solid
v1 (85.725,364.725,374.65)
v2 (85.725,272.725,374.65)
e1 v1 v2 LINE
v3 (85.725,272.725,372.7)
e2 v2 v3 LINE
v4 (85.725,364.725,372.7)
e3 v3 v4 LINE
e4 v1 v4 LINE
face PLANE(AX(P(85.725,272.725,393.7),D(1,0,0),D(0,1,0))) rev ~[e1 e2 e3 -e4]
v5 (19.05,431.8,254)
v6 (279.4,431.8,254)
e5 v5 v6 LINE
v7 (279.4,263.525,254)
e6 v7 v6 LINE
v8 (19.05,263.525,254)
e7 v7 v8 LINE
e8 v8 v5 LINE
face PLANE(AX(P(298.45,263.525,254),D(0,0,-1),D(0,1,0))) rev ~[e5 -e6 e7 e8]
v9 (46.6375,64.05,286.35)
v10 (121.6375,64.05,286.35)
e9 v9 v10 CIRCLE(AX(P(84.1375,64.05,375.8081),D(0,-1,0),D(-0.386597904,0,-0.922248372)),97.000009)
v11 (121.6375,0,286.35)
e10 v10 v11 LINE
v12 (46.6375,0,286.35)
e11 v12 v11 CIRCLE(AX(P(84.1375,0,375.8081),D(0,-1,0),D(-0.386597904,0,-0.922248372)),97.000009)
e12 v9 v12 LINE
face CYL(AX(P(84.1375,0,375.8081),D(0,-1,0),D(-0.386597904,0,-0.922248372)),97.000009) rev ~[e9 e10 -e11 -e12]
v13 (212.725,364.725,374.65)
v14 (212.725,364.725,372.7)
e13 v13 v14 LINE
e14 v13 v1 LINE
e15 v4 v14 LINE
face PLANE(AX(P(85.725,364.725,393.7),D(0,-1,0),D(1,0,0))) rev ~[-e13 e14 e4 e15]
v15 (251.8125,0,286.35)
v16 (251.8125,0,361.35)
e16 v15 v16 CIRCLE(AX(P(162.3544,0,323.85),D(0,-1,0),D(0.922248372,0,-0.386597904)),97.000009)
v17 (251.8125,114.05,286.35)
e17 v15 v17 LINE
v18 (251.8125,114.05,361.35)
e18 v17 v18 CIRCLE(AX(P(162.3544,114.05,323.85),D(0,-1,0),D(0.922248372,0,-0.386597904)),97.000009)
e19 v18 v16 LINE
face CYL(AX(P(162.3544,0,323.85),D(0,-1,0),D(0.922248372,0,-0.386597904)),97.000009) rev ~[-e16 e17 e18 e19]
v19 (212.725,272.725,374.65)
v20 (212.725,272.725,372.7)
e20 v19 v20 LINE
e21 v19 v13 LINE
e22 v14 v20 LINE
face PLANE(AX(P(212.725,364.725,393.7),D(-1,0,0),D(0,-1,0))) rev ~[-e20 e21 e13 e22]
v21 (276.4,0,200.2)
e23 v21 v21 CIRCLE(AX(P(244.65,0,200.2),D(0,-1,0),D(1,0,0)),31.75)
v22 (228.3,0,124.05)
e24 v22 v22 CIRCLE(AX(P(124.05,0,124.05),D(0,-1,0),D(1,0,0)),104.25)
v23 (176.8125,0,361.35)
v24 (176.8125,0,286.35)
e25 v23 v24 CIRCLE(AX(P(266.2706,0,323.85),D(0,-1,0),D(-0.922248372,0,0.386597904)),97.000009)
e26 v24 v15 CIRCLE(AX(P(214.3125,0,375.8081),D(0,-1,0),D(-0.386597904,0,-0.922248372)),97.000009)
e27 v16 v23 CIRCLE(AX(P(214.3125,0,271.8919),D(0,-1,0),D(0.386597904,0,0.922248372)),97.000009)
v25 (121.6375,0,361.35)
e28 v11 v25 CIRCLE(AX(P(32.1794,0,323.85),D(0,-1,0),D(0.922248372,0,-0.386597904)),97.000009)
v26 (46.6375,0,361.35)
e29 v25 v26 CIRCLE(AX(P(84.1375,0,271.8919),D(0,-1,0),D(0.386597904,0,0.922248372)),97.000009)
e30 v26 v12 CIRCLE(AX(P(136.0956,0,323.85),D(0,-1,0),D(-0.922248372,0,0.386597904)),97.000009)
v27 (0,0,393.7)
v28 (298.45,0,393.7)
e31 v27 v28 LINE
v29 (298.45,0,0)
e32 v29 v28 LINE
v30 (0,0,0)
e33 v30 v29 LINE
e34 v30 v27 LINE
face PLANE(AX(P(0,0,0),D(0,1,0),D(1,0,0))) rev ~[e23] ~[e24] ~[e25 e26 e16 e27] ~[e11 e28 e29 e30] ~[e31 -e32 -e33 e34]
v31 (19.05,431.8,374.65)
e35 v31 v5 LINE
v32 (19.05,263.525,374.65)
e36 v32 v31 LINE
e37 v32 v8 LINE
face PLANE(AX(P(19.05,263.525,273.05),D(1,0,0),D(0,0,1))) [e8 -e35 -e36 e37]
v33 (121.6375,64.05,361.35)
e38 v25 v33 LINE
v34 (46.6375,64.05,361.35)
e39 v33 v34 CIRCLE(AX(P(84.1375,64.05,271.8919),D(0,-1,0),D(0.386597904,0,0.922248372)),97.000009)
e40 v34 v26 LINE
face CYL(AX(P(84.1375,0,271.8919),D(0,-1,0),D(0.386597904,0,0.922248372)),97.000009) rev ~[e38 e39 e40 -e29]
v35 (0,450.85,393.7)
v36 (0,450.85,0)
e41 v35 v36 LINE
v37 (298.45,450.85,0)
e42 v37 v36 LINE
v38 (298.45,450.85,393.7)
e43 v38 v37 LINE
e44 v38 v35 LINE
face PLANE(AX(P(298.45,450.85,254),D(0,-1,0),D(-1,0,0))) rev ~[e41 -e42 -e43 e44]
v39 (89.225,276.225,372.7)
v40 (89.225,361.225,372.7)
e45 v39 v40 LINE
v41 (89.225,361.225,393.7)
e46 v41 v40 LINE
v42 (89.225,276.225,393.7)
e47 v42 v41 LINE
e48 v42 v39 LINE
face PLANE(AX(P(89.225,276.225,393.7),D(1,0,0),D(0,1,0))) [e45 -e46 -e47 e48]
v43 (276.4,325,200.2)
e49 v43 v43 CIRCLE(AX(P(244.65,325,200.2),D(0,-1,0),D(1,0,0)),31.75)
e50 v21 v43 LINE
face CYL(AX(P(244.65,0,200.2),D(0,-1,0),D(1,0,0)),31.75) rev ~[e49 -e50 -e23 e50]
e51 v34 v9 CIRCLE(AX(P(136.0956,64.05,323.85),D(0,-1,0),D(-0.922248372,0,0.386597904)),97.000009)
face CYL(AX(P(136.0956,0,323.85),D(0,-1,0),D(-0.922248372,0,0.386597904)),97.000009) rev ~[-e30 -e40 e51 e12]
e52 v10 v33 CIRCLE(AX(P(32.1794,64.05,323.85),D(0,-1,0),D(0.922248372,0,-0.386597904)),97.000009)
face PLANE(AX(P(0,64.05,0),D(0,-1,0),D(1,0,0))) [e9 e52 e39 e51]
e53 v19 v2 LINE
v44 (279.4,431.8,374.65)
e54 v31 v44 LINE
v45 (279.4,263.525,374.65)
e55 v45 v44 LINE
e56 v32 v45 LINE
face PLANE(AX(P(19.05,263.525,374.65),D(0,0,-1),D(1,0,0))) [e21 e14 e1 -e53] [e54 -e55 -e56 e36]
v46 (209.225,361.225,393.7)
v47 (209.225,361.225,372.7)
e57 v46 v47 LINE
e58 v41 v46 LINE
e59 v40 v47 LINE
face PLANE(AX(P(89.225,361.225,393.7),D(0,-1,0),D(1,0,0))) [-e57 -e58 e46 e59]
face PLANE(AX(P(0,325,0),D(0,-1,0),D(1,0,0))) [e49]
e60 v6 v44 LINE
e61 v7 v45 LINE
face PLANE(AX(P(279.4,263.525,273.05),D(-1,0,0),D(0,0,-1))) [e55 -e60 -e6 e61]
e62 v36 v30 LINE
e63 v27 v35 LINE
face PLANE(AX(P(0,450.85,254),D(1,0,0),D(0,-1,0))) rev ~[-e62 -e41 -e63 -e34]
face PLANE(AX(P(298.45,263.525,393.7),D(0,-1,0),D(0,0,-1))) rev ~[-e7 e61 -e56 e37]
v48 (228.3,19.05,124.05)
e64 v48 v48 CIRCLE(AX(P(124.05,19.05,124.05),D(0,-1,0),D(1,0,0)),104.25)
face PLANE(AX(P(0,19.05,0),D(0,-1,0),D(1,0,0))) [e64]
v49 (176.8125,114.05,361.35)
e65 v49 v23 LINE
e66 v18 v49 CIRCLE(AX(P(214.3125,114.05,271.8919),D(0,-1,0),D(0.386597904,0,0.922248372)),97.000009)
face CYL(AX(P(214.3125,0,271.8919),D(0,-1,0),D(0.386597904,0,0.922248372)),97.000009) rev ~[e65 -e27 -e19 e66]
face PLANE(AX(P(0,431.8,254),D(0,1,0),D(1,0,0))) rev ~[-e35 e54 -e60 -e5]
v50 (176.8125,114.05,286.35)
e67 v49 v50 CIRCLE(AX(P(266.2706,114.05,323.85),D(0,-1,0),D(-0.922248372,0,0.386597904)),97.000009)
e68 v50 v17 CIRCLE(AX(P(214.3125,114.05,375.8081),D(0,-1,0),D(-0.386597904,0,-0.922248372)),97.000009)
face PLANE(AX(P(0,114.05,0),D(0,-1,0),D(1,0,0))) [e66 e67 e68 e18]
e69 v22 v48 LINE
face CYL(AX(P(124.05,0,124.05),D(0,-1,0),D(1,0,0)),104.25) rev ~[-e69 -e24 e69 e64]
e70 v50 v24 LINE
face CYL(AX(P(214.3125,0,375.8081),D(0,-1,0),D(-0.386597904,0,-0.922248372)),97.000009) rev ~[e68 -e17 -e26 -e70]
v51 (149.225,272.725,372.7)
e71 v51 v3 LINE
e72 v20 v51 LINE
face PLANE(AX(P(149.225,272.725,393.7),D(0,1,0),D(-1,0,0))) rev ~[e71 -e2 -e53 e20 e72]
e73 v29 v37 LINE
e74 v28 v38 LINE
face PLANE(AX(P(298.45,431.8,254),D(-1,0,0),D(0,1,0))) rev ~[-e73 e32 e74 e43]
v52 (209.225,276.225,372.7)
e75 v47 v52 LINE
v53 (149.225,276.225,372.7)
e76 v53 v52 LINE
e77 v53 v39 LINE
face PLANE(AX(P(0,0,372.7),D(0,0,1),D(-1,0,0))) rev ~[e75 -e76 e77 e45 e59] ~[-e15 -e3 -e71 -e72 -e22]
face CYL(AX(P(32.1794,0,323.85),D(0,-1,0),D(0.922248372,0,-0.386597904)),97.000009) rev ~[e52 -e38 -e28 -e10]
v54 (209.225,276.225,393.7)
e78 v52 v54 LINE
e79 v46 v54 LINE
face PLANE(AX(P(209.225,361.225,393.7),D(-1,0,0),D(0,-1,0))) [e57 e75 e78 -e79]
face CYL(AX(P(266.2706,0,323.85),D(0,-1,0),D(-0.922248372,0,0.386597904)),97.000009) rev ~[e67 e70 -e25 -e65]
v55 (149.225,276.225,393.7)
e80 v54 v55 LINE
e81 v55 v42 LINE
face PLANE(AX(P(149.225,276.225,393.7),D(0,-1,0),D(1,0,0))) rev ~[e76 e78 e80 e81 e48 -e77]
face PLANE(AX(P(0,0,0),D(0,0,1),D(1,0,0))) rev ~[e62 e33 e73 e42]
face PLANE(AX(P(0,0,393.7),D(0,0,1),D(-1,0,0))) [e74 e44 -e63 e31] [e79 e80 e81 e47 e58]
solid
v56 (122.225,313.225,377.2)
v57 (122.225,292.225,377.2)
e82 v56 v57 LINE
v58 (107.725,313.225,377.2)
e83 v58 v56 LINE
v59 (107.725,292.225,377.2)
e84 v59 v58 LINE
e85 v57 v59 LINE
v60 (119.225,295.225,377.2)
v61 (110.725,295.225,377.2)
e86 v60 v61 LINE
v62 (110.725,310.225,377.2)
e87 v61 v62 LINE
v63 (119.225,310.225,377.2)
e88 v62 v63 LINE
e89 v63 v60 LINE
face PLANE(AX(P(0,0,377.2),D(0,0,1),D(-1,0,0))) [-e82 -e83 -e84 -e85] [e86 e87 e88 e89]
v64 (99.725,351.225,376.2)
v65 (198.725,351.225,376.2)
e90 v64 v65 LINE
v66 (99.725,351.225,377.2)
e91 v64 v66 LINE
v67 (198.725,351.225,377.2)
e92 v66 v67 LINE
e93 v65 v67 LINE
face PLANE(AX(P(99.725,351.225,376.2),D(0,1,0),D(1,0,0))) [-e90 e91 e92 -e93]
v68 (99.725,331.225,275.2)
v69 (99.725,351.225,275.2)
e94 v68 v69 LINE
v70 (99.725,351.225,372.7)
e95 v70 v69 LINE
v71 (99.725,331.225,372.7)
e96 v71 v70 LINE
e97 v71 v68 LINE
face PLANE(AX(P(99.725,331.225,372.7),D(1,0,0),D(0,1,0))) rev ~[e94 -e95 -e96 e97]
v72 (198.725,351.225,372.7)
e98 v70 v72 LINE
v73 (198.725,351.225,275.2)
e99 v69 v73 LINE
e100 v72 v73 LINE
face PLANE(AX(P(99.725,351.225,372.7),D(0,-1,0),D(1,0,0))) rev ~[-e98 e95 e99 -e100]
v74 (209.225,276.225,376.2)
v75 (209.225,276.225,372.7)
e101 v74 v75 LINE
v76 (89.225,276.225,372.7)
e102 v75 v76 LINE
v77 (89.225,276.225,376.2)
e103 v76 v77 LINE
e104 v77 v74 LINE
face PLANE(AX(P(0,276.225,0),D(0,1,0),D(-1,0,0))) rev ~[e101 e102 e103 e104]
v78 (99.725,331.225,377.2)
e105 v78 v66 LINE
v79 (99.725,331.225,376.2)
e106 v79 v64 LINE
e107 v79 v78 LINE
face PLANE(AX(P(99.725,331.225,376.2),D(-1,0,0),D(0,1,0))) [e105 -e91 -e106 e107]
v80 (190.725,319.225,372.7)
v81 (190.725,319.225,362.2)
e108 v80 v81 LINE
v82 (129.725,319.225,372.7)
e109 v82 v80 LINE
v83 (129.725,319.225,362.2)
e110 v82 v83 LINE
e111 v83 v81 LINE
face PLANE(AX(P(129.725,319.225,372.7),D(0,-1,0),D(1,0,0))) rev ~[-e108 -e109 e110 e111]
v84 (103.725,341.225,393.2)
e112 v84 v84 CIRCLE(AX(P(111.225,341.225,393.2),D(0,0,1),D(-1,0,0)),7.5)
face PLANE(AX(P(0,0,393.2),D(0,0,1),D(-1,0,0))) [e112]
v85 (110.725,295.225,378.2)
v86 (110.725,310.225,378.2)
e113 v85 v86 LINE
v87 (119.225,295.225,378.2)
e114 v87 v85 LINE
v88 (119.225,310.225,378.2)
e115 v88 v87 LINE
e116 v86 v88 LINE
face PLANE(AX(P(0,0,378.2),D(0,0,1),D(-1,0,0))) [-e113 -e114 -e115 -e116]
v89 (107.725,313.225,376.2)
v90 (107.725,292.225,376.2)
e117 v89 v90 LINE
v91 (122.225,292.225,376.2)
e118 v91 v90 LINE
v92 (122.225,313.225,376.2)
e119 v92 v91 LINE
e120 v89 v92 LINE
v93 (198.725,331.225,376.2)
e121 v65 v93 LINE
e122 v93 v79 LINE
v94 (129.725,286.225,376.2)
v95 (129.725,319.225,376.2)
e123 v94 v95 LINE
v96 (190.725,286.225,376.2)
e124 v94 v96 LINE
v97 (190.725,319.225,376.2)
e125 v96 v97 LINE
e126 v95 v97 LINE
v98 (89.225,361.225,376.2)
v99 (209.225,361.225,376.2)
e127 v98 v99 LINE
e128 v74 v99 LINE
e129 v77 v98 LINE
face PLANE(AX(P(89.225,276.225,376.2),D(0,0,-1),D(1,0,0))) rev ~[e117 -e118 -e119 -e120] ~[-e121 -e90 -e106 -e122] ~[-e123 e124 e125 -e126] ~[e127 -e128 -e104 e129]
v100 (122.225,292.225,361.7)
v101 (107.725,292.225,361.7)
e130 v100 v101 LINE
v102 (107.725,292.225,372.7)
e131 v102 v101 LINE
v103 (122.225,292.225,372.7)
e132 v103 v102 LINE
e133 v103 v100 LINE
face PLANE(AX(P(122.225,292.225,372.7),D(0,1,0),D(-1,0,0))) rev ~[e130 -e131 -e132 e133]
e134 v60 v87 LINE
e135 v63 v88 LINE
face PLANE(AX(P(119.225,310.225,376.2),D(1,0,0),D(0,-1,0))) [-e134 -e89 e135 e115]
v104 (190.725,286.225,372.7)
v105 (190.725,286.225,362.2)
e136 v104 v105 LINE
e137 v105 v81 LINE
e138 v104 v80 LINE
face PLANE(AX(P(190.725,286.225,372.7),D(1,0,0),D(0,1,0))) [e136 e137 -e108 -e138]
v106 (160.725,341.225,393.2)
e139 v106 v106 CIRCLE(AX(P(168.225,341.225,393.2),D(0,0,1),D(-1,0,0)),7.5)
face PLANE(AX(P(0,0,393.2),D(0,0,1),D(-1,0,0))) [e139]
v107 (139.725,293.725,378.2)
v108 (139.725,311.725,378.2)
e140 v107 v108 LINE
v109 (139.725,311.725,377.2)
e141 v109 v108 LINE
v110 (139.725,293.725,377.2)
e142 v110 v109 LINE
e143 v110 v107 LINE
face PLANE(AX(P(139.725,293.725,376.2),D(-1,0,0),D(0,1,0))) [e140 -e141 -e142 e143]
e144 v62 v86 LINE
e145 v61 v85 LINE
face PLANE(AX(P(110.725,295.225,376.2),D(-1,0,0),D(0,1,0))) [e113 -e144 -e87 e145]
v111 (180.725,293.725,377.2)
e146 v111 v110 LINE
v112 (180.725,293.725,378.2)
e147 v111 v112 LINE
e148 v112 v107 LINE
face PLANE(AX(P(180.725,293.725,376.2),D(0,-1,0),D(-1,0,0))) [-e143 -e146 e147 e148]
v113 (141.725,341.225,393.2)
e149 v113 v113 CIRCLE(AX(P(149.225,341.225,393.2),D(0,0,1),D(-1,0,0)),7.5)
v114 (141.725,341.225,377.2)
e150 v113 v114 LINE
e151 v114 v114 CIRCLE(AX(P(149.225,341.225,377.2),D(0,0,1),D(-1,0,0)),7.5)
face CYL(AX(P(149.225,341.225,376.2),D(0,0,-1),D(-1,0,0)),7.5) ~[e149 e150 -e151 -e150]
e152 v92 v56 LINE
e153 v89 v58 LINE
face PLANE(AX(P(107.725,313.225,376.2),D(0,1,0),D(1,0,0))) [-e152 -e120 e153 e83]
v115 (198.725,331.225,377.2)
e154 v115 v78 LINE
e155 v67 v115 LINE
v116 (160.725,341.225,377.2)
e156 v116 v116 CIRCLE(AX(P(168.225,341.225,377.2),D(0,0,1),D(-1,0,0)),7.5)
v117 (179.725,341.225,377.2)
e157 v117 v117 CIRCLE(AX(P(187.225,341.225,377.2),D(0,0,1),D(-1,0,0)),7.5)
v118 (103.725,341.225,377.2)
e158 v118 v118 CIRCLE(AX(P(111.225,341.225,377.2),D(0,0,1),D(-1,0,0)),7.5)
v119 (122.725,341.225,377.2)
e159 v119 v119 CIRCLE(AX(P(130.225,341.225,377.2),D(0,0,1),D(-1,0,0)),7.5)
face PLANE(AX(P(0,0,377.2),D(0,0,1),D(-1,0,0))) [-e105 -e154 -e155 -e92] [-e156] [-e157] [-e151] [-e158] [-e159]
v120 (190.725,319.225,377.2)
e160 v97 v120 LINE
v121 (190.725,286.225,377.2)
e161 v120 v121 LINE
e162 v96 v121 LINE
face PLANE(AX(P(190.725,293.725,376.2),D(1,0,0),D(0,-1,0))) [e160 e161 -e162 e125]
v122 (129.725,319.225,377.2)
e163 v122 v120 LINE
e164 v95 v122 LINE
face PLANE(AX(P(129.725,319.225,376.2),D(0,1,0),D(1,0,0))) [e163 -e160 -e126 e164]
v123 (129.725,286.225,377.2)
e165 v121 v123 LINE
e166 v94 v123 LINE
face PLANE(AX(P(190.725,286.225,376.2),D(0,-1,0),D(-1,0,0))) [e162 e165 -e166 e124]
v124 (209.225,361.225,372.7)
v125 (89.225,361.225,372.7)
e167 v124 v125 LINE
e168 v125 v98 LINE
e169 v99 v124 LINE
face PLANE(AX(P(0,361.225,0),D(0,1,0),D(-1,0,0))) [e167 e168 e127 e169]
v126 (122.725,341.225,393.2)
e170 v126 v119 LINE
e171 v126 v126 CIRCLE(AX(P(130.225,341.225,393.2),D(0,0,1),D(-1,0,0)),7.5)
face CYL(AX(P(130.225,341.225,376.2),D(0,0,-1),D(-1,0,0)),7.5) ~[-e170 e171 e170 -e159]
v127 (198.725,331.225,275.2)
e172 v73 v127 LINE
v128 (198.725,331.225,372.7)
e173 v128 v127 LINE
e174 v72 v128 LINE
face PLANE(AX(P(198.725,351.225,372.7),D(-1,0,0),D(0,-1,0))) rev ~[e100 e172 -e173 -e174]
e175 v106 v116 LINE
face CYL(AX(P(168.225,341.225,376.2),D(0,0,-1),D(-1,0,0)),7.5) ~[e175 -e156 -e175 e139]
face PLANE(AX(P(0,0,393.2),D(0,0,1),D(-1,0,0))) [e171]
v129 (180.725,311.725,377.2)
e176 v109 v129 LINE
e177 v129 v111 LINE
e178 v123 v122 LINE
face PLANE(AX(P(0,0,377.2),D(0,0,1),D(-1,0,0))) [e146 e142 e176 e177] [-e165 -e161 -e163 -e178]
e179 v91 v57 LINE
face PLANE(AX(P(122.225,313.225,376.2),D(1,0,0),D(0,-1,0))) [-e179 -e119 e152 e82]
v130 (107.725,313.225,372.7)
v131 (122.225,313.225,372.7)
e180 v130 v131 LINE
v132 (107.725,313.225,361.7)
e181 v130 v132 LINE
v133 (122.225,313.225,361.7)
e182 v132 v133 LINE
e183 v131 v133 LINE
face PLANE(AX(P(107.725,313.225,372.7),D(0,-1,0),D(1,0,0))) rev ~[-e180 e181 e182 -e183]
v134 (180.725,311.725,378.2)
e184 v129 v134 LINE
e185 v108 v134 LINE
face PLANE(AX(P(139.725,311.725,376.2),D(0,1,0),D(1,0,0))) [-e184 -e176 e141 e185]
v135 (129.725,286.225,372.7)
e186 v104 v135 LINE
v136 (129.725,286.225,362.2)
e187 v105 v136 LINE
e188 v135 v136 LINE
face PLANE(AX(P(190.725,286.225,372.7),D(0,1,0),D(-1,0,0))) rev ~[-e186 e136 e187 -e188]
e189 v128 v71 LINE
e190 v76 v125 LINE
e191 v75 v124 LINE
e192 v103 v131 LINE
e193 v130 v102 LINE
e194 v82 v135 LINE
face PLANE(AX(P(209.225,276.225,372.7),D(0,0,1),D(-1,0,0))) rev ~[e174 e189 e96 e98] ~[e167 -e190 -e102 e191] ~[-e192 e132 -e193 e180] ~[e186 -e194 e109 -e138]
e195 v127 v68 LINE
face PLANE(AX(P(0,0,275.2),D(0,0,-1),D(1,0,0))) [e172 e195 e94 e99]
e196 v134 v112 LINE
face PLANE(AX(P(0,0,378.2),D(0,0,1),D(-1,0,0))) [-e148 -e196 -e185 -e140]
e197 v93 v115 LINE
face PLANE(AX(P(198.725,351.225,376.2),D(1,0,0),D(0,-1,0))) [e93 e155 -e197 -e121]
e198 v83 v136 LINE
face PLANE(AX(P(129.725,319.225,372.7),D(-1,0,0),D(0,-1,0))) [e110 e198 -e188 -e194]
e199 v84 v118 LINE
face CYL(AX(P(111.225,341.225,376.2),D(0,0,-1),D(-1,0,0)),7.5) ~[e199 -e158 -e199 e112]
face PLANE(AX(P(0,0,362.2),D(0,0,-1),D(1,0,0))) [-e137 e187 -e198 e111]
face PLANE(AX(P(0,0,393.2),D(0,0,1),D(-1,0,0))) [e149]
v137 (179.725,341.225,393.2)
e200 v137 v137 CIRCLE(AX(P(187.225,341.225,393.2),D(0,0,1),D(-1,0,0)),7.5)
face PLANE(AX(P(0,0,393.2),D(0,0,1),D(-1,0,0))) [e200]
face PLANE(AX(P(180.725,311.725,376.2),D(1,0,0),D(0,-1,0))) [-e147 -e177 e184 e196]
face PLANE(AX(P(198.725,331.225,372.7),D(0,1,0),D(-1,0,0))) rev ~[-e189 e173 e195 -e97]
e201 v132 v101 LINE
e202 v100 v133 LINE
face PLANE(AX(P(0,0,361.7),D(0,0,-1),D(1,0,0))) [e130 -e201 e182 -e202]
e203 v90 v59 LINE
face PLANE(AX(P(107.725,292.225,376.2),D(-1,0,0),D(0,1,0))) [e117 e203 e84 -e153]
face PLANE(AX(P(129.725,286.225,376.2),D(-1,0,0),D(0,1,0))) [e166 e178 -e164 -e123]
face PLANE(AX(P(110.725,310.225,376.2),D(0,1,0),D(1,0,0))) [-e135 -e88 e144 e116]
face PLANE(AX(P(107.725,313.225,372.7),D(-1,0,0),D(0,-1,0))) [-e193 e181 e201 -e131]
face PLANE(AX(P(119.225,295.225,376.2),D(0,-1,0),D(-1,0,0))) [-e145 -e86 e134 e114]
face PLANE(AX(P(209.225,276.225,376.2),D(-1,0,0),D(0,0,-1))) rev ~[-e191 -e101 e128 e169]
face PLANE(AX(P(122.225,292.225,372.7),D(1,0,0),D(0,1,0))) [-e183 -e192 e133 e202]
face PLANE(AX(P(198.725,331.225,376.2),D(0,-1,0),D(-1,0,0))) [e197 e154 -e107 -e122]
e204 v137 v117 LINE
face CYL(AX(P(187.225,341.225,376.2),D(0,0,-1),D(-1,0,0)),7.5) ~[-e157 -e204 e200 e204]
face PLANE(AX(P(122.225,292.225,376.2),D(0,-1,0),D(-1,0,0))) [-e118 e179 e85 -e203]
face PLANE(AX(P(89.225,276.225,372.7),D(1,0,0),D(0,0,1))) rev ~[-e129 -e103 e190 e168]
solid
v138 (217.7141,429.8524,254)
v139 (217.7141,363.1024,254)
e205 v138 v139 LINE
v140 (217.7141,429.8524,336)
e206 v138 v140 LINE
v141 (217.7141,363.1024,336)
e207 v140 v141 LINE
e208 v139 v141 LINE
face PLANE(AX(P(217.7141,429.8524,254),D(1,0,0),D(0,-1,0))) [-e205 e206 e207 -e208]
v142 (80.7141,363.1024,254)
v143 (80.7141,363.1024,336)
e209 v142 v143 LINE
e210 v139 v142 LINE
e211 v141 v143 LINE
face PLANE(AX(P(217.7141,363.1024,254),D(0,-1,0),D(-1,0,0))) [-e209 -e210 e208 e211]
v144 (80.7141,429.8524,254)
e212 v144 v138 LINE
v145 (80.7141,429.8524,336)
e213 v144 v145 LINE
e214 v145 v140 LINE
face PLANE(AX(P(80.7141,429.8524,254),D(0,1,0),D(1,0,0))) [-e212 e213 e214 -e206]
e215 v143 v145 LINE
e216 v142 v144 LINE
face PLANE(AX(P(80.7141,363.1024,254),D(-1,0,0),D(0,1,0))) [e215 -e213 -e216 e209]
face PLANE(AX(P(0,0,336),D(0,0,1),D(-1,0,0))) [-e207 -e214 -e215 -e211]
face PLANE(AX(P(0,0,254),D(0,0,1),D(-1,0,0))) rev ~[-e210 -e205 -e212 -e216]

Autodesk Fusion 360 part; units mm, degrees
sketch "Sketch1" plane through (0, 0, 0) normal (0, 0, 1) x (1, 0, 0)
  line L0 (0, 0) -> (298.45, 0)
  line L1 (298.45, 0) -> (298.45, 450.85)
  line L2 (298.45, 450.85) -> (0, 450.85)
  line L3 (0, 450.85) -> (0, 0)
  dimension "d1" = 298.45
  dimension "d2" = 450.85
extrude "Extrude1" add sketch "Sketch1" along normal blind 254 makes body 1
sketch "Sketch2" plane through (0, 0, 0) normal (0, -1, 0) x (1, 0, 0)
  line L0 (0, 0) -> (298.45, 0)
  line L1 (298.45, 0) -> (298.45, 254)
  line L2 (298.45, 254) -> (0, 254)
  line L3 (0, 254) -> (0, 0)
  line L4 (19.05, 19.05) -> (279.4, 19.05)
  line L5 (279.4, 19.05) -> (279.4, 234.95)
  line L6 (279.4, 234.95) -> (19.05, 234.95)
  line L7 (19.05, 234.95) -> (19.05, 19.05)
  circle A0 centre (124.05, 124.05) radius 104.25
  circle A1 centre (244.65, 200.2) radius 31.75
  circle A2 centre (244.65, 200.2) radius 34.75
  dimension "d5" = -19.05
  dimension "d6" = 208.5
  dimension "d7" = 105
  dimension "d8" = 105
  dimension "d9" = 63.5
  dimension "d10" = 34.75
  dimension "d11" = 34.75
  dimension "d12" = 3
extrude "Extrude2" add 1 faces at (99.4833, 150.2833, 254) along direction (0, 0, 1) blind 139.7 on bodies 1 bodies 1
sketch "Sketch3" plane through (0, 0, 0) normal (0, -1, 0) x (1, 0, 0)
  line L0 (0, 0) -> (298.45, 0)
  line L1 (298.45, 0) -> (298.45, 393.7)
  line L2 (298.45, 393.7) -> (0, 393.7)
  line L3 (0, 393.7) -> (0, 0)
  line L4 (298.45, 254) -> (0, 254)
  line L5 (0, 393.7) -> (298.45, 393.7)
  line L6 (298.45, 393.7) -> (298.45, 254)
  line L7 (298.45, 254) -> (0, 254)
  line L8 (0, 254) -> (0, 393.7)
  line L9 (279.4, 273.05) -> (19.05, 273.05)
  line L10 (19.05, 273.05) -> (19.05, 374.65)
  line L11 (19.05, 374.65) -> (279.4, 374.65)
  line L12 (279.4, 374.65) -> (279.4, 273.05)
  line L13 (46.6375, 361.35) -> (121.6375, 361.35)
  line L14 (121.6375, 361.35) -> (121.6375, 286.35)
  line L15 (121.6375, 286.35) -> (46.6375, 286.35)
  line L16 (46.6375, 286.35) -> (46.6375, 361.35)
  line L17 (84.1375, 361.35) -> (84.1375, 340.8281)
  line L18 (19.05, 374.65) -> (149.225, 374.65)
  line L19 (149.225, 374.65) -> (279.4, 374.65)
  line L20 (46.6375, 323.85) -> (54.2725, 323.85)
  line L21 (149.225, 374.65) -> (149.225, 361.3588)
  arc A0 (121.6375, 361.35) -> (46.6375, 361.35) centre (84.1375, 271.8919) ccw
  arc A1 (46.6375, 286.35) -> (121.6375, 286.35) centre (84.1375, 375.8081) ccw
  arc A2 (121.6375, 286.35) -> (121.6375, 361.35) centre (32.1794, 323.85) ccw
  arc A3 (46.6375, 361.35) -> (46.6375, 286.35) centre (136.0956, 323.85) ccw
  arc A4 (251.8125, 361.35) -> (176.8125, 361.35) centre (214.3125, 271.8919) ccw
  arc A5 (176.8125, 361.35) -> (176.8125, 286.35) centre (266.2706, 323.85) ccw
  arc A6 (176.8125, 286.35) -> (251.8125, 286.35) centre (214.3125, 375.8081) ccw
  arc A7 (251.8125, 286.35) -> (251.8125, 361.35) centre (162.3544, 323.85) ccw
  dimension "d15" = 19.05
  dimension "d16" = 75
  dimension "d17" = 75
  dimension "d18" = 65.0875
  dimension "d19" = 50.8
  dimension "d20" = 97
  dimension "d21" = 97
  dimension "d22" = 97
  dimension "d23" = 97
extrude "Extrude3" cut sketch "Sketch3" sketch "Sketch2" against normal blind 19.05 contours L13 A0 | L13 L14 L15 L16 | L16 A3 | L14 A2 | L15 A1 | A4 A5 A6 A7 of sketch 2 contours A0 bodies 1
shell "Shell1" thickness 19.05 removed faces 1 at (78.1482, 19.05, 149.2169) on bodies 1
extrude "Extrude4" cut 1 faces at (69.1235, 19.05, 323.85) along direction (0, 1, 0) blind 45 on bodies 1 bodies 1
extrude "Extrude5" cut 1 faces at (214.3125, 19.05, 308.836) along direction (0, 1, 0) blind 95 on bodies 1 bodies 1
extrude "Extrude6" add sketch "Sketch2" against normal blind 314.96 contours A2 | A1 bodies 1
extrude "Extrude7" cut sketch "Sketch2" against normal blind 325 contours A1 bodies 1
sketch "Sketch4" plane through (298.45, 0, 0) normal (1, 0, 0) x (0, 1, 0)
  line L0 (0, 0) -> (450.85, 0)
  line L1 (450.85, 0) -> (450.85, 393.7)
  line L2 (450.85, 393.7) -> (0, 393.7)
  line L3 (0, 393.7) -> (0, 0)
  line L4 (0, 254) -> (263.525, 254)
  line L5 (263.525, 254) -> (450.85, 254)
  line L6 (450.85, 254) -> (450.85, 393.7)
  line L7 (450.85, 393.7) -> (263.525, 393.7)
  line L8 (263.525, 393.7) -> (263.525, 254)
  point P0 (0, 254)
  dimension "d35" = 263.525
extrude "Extrude8" cut sketch "Sketch4" against normal blind 390 contours L1 L2 L5 L6 L7 L8 bodies 1
sketch "Sketch5" plane through (0, 450.85, 0) normal (0, 1, 0) x (-1, 0, 0)
  line L0 (0, 254) -> (-298.45, 254)
  line L1 (-298.45, 254) -> (-298.45, 0)
  line L2 (-298.45, 0) -> (0, 0)
  line L3 (0, 0) -> (0, 254)
  line L4 (-298.45, 254) -> (0, 254)
  line L5 (0, 254) -> (0, 234.95)
  line L6 (0, 234.95) -> (-298.45, 234.95)
  line L7 (-298.45, 234.95) -> (-298.45, 254)
  dimension "d38" = 19.05
extrude "Extrude9" add sketch "Sketch5" against normal blind 450 contours L0 L1 L3 L4 L5 L6 L7 bodies 1
sketch "Sketch6" plane through (0, 0, 393.7) normal (0, 0, 1) x (-1, 0, 0)
  line L0 (-298.45, -263.525) -> (0, -263.525)
  line L1 (0, -263.525) -> (0, 0)
  line L2 (0, 0) -> (-298.45, 0)
  line L3 (-298.45, 0) -> (-298.45, -263.525)
  line L4 (0, -263.525) -> (-298.45, -263.525)
  line L5 (-298.45, -263.525) -> (-298.45, -244.475)
  line L6 (-298.45, -244.475) -> (0, -244.475)
  line L7 (0, -244.475) -> (0, -263.525)
  dimension "d41" = 19.05
extrude "Extrude10" add sketch "Sketch6" against normal blind 140 contours L0 L1 L3 L4 L5 L6 L7 bodies 1
sketch "Battery" plane through (0, 0, 254) normal (0, 0, 1) x (-1, 0, 0)
  line L0 (0, -263.525) -> (-298.45, -263.525)
  line L1 (-298.45, -263.525) -> (-298.45, -450.85)
  line L2 (-298.45, -450.85) -> (0, -450.85)
  line L3 (0, -450.85) -> (0, -263.525)
  line L4 (-217.7141, -363.1024) -> (-80.7141, -363.1024)
  line L5 (-80.7141, -363.1024) -> (-80.7141, -429.8524)
  line L6 (-80.7141, -429.8524) -> (-217.7141, -429.8524)
  line L7 (-217.7141, -429.8524) -> (-217.7141, -363.1024)
  line L8 (-198.0587, -450.85) -> (-198.0587, -431.8)
  dimension "d44" = 137
  dimension "d45" = 66.75
  dimension "d100" = 19.05
extrude "Extrude11" add sketch "Battery" along normal blind 82 separate body contours L4 L5 L6 L7 makes body 2
sketch "Sketch8" plane through (0, 0, 254) normal (0, 0, 1) x (-1, 0, 0)
  line L0 (0, -263.525) -> (-298.45, -263.525)
  line L1 (-298.45, -263.525) -> (-298.45, -450.85)
  line L2 (-298.45, -450.85) -> (0, -450.85)
  line L3 (0, -450.85) -> (0, -263.525)
  line L4 (-298.45, -450.85) -> (0, -450.85)
  line L5 (0, -450.85) -> (0, -431.8)
  line L6 (0, -431.8) -> (-298.45, -431.8)
  line L7 (-298.45, -431.8) -> (-298.45, -450.85)
  dimension "d48" = 19.05
extrude "Extrude12" add sketch "Sketch8" along normal blind 139.7 separate body contours L1 L2 L3 L4 L5 L6 L7 makes body 3
sketch "Sketch9" plane through (0, 263.525, 0) normal (0, 1, 0) x (-1, 0, 0)
  line L0 (0, 254) -> (0, 393.7)
  line L1 (0, 393.7) -> (-298.45, 393.7)
  line L2 (-298.45, 393.7) -> (-298.45, 254)
  line L3 (-298.45, 254) -> (0, 254)
  line L4 (-279.4, 273.05) -> (-19.05, 273.05)
  line L5 (-19.05, 273.05) -> (-19.05, 374.65)
  line L6 (-19.05, 374.65) -> (-279.4, 374.65)
  line L7 (-279.4, 374.65) -> (-279.4, 273.05)
  line L8 (-279.4, 273.05) -> (-279.4, 254)
  line L9 (-19.05, 273.05) -> (-19.05, 254)
  dimension "d51" = -19.05
extrude "Extrude13" add sketch "Sketch9" along normal blind 168.275 contours L0 L1 L2 L3 L5 L6 L7 L8 L9 bodies 3 2 1
ref_plane "WorkPlane1" through (0, 0, 373.7) normal (0, 0, 1) x (1, 0, 0)
ref_plane "WorkPlane2" through (0, 430.85, 0) normal (0, 1, 0) x (0, 0, 1)
sketch "Sketch10" plane through (0, 0, 393.7) normal (0, 0, 1) x (-1, 0, 0)
  line L0 (-298.45, 0) -> (-298.45, -450.85)
  line L1 (-298.45, -450.85) -> (0, -450.85)
  line L2 (0, -450.85) -> (0, 0)
  line L3 (0, 0) -> (-298.45, 0)
  line L4 (-279.4, -263.525) -> (-19.05, -263.525)
  line L5 (-19.05, -263.525) -> (-279.4, -263.525)
  line L6 (-149.225, -263.525) -> (-149.225, -276.225)
  line L7 (-149.225, -276.225) -> (-209.225, -276.225)
  line L8 (-209.225, -276.225) -> (-89.225, -276.225)
  line L9 (-89.225, -276.225) -> (-89.225, -361.225)
  line L10 (-89.225, -361.225) -> (-209.225, -361.225)
  line L11 (-209.225, -361.225) -> (-209.225, -276.225)
  line L12 (-212.725, -272.725) -> (-85.725, -272.725)
  line L13 (-85.725, -272.725) -> (-85.725, -364.725)
  line L14 (-85.725, -364.725) -> (-212.725, -364.725)
  line L15 (-212.725, -364.725) -> (-212.725, -272.725)
  dimension "d56" = 12.7
  dimension "d57" = 60
  dimension "d58" = 120
  dimension "d59" = 85
  dimension "d60" = -3.5
extrude "Extrude14" cut sketch "Sketch10" against normal blind 30 contours L7 L8 L9 L10 L11 bodies 3
extrude "Extrude15" add sketch "Sketch10" against normal blind 21 contours L12 L13 L14 L15 bodies 3
sketch "Sketch11" plane through (0, 276.225, 0) normal (0, 1, 0) x (-1, 0, 0)
  line L0 (-89.225, 372.7) -> (-89.225, 393.7)
  line L1 (-89.225, 393.7) -> (-209.225, 393.7)
  line L2 (-209.225, 393.7) -> (-209.225, 372.7)
  line L3 (-209.225, 372.7) -> (-89.225, 372.7)
  line L4 (-209.225, 372.7) -> (-89.225, 372.7)
  line L5 (-89.225, 372.7) -> (-89.225, 376.2)
  line L6 (-89.225, 376.2) -> (-209.225, 376.2)
  line L7 (-209.225, 376.2) -> (-209.225, 372.7)
  dimension "d65" = 3.5
extrude "Extrude16" add sketch "Sketch11" along normal blind 85 separate body contours L0 L2 L3 L4 L5 L6 L7 makes body 4
sketch "Sketch12" plane through (0, 0, 376.2) normal (0, 0, 1) x (-1, 0, 0)
  line L0 (-89.225, -276.225) -> (-209.225, -276.225)
  line L1 (-209.225, -276.225) -> (-209.225, -361.225)
  line L2 (-209.225, -361.225) -> (-89.225, -361.225)
  line L3 (-89.225, -361.225) -> (-89.225, -276.225)
  line L4 (-198.725, -331.225) -> (-99.725, -331.225)
  line L5 (-99.725, -331.225) -> (-99.725, -351.225)
  line L6 (-99.725, -351.225) -> (-198.725, -351.225)
  line L7 (-198.725, -351.225) -> (-198.725, -331.225)
  line L8 (-190.725, -286.225) -> (-129.725, -286.225)
  line L9 (-129.725, -286.225) -> (-129.725, -319.225)
  line L10 (-129.725, -319.225) -> (-190.725, -319.225)
  line L11 (-190.725, -319.225) -> (-190.725, -286.225)
  line L12 (-122.225, -292.225) -> (-107.725, -292.225)
  line L13 (-107.725, -292.225) -> (-107.725, -313.225)
  line L14 (-107.725, -313.225) -> (-122.225, -313.225)
  line L15 (-122.225, -313.225) -> (-122.225, -292.225)
  line L16 (-107.725, -302.725) -> (-107.7476, -302.725)
  circle A0 centre (-149.225, -341.225) radius 7.5
  circle A1 centre (-130.225, -341.225) radius 7.5
  circle A2 centre (-111.225, -341.225) radius 7.5
  circle A3 centre (-168.225, -341.225) radius 7.5
  circle A4 centre (-187.225, -341.225) radius 7.5
  line L17 (-190.725, -286.225) -> (-180.725, -286.225)
  line L18 (-180.725, -286.225) -> (-180.725, -293.725)
  line L19 (-180.725, -293.725) -> (-190.725, -293.725)
  line L20 (-190.725, -293.725) -> (-190.725, -286.225)
  line L21 (-180.725, -293.725) -> (-139.725, -293.725)
  line L22 (-139.725, -293.725) -> (-139.725, -311.725)
  line L23 (-139.725, -311.725) -> (-180.725, -311.725)
  line L24 (-180.725, -311.725) -> (-180.725, -293.725)
  line L25 (-110.725, -310.225) -> (-119.225, -310.225)
  line L26 (-119.225, -310.225) -> (-119.225, -295.225)
  line L27 (-119.225, -295.225) -> (-110.725, -295.225)
  line L28 (-110.725, -295.225) -> (-110.725, -310.225)
  dimension "d68" = 99
  dimension "d69" = 20
  dimension "d70" = 10.5
  dimension "d71" = 10.5
  dimension "d72" = 61
  dimension "d73" = 33
  dimension "d74" = 14.5
  dimension "d75" = 21
  dimension "d76" = 8
  dimension "d77" = 8
  dimension "d78" = 16.5
  dimension "d79" = 10
  dimension "d80" = 10
  dimension "d81" = 12
  dimension "d82" = 15
  dimension "d83" = 15
  dimension "d84" = 15
  dimension "d85" = 19
  dimension "d86" = 38
  dimension "d87" = 15
  dimension "d88" = 15
  dimension "d89" = 19
  dimension "d90" = 38
  dimension "d91" = 10
  dimension "d92" = 7.5
  dimension "d93" = 41
  dimension "d94" = 18
  dimension "d95" = 3
extrude "Extrude17" add sketch "Sketch12" along normal blind 2 contours L21 L22 L23 L24 | A0 | A1 | A2 | A3 | A4 | L25 L26 L27 L28 bodies 4
extrude "Extrude18" add sketch "Sketch12" along normal blind 1 contours L4 L5 L6 L7 | L8 L11 L17 L18 L19 L20 | L8 L9 L10 L11 L18 L19 | L12 L13 L14 L15 bodies 4
sketch "Sketch13" plane through (0, 0, 372.7) normal (0, 0, -1) x (1, 0, 0)
  line L0 (209.225, -276.225) -> (89.225, -276.225)
  line L1 (89.225, -276.225) -> (89.225, -361.225)
  line L2 (89.225, -361.225) -> (209.225, -361.225)
  line L3 (209.225, -361.225) -> (209.225, -276.225)
  line L4 (99.725, -351.225) -> (198.725, -351.225)
  line L5 (198.725, -351.225) -> (198.725, -331.225)
  line L6 (198.725, -331.225) -> (99.725, -331.225)
  line L7 (99.725, -331.225) -> (99.725, -351.225)
  line L8 (198.725, -351.225) -> (99.725, -351.225)
  line L9 (99.725, -351.225) -> (99.725, -331.225)
  line L10 (99.725, -331.225) -> (198.725, -331.225)
  line L11 (198.725, -331.225) -> (198.725, -351.225)
extrude "Extrude19" add sketch "Sketch13" along normal blind 97.5 contours L4 L5 L6 L7 L8 L9 L10 L11 bodies 4
sketch "Sketch14" plane through (0, 0, 372.7) normal (0, 0, -1) x (1, 0, 0)
  line L0 (198.725, -331.225) -> (198.725, -351.225)
  line L1 (198.725, -351.225) -> (99.725, -351.225)
  line L2 (99.725, -351.225) -> (99.725, -331.225)
  line L3 (99.725, -331.225) -> (198.725, -331.225)
  line L4 (209.225, -276.225) -> (89.225, -276.225)
  line L5 (89.225, -276.225) -> (89.225, -361.225)
  line L6 (89.225, -361.225) -> (209.225, -361.225)
  line L7 (209.225, -361.225) -> (209.225, -276.225)
  line L8 (129.725, -319.225) -> (190.725, -319.225)
  line L9 (190.725, -286.225) -> (129.725, -286.225)
  line L10 (190.725, -319.225) -> (129.725, -319.225)
  line L11 (129.725, -319.225) -> (129.725, -286.225)
  line L12 (129.725, -286.225) -> (190.725, -286.225)
  line L13 (190.725, -286.225) -> (190.725, -319.225)
extrude "Extrude20" add sketch "Sketch14" along normal blind 10.5 contours L8 L9 L10 L11 L12 L13 bodies 4
sketch "Sketch15" plane through (0, 0, 372.7) normal (0, 0, -1) x (1, 0, 0)
  line L0 (190.725, -286.225) -> (190.725, -319.225)
  line L1 (190.725, -319.225) -> (129.725, -319.225)
  line L2 (129.725, -319.225) -> (129.725, -286.225)
  line L3 (129.725, -286.225) -> (190.725, -286.225)
  line L4 (198.725, -331.225) -> (198.725, -351.225)
  line L5 (198.725, -351.225) -> (99.725, -351.225)
  line L6 (99.725, -351.225) -> (99.725, -331.225)
  line L7 (99.725, -331.225) -> (198.725, -331.225)
  line L8 (209.225, -276.225) -> (89.225, -276.225)
  line L9 (89.225, -276.225) -> (89.225, -361.225)
  line L10 (89.225, -361.225) -> (209.225, -361.225)
  line L11 (209.225, -361.225) -> (209.225, -276.225)
  line L12 (107.725, -313.225) -> (122.225, -313.225)
  line L13 (122.225, -292.225) -> (107.725, -292.225)
  line L14 (122.225, -313.225) -> (107.725, -313.225)
  line L15 (107.725, -313.225) -> (107.725, -292.225)
  line L16 (107.725, -292.225) -> (122.225, -292.225)
  line L17 (122.225, -292.225) -> (122.225, -313.225)
extrude "Extrude21" add sketch "Sketch15" along normal blind 11 contours L12 L13 L14 L15 L16 L17 bodies 4
extrude "Extrude22" add 5 faces at (185.6663, 342.6713, 378.2) (171.9142, 339.8123, 378.2) (147.3924, 339.5246, 378.2) (131.1663, 339.2704, 378.2) (109.6663, 343.1796, 378.2) along direction (0, 0, 1) blind 15 on bodies 4 bodies 4
sketch "Sketch16" plane through (0, 0, 0) normal (0, -1, 0) x (1, 0, 0)
  circle A0 centre (244.65, 200.2) radius 31.75
  arc A1 (251.8125, 361.35) -> (176.8125, 361.35) centre (214.3125, 271.8919) ccw
  arc A2 (251.8125, 286.35) -> (251.8125, 361.35) centre (162.3544, 323.85) ccw
  arc A3 (176.8125, 286.35) -> (251.8125, 286.35) centre (214.3125, 375.8081) ccw
  arc A4 (176.8125, 361.35) -> (176.8125, 286.35) centre (266.2706, 323.85) ccw
  arc A5 (46.6375, 286.35) -> (121.6375, 286.35) centre (84.1375, 375.8081) ccw
  arc A6 (46.6375, 361.35) -> (46.6375, 286.35) centre (136.0956, 323.85) ccw
  arc A7 (121.6375, 361.35) -> (46.6375, 361.35) centre (84.1375, 271.8919) ccw
  arc A8 (121.6375, 286.35) -> (121.6375, 361.35) centre (32.1794, 323.85) ccw
  circle A9 centre (124.05, 124.05) radius 104.25
  line L0 (0, 0) -> (298.45, 0)
  line L1 (298.45, 0) -> (298.45, 393.7)
  line L2 (298.45, 393.7) -> (0, 393.7)
  line L3 (0, 393.7) -> (0, 0)
  circle A10 centre (124.05, 124.05) radius 88.5
  dimension "d109" = 177
ref_plane "WorkPlane3" through (149.225, 40, 196.85) normal (0, -1, 0) x (1, 0, 0)
equation "d8 = d7"
equation "d10 = ( ( 63.5 / 2 ) * 1 mm ) + 3 mm"
equation "d11 = d10"
equation "d18 = ( 130.175 / 2 ) * 1 mm"
equation "d19 = ( 101.6 / 2 ) * 1 mm"
equation "d59 = 64 mm + 21 mm"
equation "d78 = ( 33 / 2 ) * 1 mm"
equation "d86 = ( 19 * 2 ) * 1 mm"
equation "d89 = d85"
equation "d90 = d86"
equation "d94 = 33 mm - 15 mm"
